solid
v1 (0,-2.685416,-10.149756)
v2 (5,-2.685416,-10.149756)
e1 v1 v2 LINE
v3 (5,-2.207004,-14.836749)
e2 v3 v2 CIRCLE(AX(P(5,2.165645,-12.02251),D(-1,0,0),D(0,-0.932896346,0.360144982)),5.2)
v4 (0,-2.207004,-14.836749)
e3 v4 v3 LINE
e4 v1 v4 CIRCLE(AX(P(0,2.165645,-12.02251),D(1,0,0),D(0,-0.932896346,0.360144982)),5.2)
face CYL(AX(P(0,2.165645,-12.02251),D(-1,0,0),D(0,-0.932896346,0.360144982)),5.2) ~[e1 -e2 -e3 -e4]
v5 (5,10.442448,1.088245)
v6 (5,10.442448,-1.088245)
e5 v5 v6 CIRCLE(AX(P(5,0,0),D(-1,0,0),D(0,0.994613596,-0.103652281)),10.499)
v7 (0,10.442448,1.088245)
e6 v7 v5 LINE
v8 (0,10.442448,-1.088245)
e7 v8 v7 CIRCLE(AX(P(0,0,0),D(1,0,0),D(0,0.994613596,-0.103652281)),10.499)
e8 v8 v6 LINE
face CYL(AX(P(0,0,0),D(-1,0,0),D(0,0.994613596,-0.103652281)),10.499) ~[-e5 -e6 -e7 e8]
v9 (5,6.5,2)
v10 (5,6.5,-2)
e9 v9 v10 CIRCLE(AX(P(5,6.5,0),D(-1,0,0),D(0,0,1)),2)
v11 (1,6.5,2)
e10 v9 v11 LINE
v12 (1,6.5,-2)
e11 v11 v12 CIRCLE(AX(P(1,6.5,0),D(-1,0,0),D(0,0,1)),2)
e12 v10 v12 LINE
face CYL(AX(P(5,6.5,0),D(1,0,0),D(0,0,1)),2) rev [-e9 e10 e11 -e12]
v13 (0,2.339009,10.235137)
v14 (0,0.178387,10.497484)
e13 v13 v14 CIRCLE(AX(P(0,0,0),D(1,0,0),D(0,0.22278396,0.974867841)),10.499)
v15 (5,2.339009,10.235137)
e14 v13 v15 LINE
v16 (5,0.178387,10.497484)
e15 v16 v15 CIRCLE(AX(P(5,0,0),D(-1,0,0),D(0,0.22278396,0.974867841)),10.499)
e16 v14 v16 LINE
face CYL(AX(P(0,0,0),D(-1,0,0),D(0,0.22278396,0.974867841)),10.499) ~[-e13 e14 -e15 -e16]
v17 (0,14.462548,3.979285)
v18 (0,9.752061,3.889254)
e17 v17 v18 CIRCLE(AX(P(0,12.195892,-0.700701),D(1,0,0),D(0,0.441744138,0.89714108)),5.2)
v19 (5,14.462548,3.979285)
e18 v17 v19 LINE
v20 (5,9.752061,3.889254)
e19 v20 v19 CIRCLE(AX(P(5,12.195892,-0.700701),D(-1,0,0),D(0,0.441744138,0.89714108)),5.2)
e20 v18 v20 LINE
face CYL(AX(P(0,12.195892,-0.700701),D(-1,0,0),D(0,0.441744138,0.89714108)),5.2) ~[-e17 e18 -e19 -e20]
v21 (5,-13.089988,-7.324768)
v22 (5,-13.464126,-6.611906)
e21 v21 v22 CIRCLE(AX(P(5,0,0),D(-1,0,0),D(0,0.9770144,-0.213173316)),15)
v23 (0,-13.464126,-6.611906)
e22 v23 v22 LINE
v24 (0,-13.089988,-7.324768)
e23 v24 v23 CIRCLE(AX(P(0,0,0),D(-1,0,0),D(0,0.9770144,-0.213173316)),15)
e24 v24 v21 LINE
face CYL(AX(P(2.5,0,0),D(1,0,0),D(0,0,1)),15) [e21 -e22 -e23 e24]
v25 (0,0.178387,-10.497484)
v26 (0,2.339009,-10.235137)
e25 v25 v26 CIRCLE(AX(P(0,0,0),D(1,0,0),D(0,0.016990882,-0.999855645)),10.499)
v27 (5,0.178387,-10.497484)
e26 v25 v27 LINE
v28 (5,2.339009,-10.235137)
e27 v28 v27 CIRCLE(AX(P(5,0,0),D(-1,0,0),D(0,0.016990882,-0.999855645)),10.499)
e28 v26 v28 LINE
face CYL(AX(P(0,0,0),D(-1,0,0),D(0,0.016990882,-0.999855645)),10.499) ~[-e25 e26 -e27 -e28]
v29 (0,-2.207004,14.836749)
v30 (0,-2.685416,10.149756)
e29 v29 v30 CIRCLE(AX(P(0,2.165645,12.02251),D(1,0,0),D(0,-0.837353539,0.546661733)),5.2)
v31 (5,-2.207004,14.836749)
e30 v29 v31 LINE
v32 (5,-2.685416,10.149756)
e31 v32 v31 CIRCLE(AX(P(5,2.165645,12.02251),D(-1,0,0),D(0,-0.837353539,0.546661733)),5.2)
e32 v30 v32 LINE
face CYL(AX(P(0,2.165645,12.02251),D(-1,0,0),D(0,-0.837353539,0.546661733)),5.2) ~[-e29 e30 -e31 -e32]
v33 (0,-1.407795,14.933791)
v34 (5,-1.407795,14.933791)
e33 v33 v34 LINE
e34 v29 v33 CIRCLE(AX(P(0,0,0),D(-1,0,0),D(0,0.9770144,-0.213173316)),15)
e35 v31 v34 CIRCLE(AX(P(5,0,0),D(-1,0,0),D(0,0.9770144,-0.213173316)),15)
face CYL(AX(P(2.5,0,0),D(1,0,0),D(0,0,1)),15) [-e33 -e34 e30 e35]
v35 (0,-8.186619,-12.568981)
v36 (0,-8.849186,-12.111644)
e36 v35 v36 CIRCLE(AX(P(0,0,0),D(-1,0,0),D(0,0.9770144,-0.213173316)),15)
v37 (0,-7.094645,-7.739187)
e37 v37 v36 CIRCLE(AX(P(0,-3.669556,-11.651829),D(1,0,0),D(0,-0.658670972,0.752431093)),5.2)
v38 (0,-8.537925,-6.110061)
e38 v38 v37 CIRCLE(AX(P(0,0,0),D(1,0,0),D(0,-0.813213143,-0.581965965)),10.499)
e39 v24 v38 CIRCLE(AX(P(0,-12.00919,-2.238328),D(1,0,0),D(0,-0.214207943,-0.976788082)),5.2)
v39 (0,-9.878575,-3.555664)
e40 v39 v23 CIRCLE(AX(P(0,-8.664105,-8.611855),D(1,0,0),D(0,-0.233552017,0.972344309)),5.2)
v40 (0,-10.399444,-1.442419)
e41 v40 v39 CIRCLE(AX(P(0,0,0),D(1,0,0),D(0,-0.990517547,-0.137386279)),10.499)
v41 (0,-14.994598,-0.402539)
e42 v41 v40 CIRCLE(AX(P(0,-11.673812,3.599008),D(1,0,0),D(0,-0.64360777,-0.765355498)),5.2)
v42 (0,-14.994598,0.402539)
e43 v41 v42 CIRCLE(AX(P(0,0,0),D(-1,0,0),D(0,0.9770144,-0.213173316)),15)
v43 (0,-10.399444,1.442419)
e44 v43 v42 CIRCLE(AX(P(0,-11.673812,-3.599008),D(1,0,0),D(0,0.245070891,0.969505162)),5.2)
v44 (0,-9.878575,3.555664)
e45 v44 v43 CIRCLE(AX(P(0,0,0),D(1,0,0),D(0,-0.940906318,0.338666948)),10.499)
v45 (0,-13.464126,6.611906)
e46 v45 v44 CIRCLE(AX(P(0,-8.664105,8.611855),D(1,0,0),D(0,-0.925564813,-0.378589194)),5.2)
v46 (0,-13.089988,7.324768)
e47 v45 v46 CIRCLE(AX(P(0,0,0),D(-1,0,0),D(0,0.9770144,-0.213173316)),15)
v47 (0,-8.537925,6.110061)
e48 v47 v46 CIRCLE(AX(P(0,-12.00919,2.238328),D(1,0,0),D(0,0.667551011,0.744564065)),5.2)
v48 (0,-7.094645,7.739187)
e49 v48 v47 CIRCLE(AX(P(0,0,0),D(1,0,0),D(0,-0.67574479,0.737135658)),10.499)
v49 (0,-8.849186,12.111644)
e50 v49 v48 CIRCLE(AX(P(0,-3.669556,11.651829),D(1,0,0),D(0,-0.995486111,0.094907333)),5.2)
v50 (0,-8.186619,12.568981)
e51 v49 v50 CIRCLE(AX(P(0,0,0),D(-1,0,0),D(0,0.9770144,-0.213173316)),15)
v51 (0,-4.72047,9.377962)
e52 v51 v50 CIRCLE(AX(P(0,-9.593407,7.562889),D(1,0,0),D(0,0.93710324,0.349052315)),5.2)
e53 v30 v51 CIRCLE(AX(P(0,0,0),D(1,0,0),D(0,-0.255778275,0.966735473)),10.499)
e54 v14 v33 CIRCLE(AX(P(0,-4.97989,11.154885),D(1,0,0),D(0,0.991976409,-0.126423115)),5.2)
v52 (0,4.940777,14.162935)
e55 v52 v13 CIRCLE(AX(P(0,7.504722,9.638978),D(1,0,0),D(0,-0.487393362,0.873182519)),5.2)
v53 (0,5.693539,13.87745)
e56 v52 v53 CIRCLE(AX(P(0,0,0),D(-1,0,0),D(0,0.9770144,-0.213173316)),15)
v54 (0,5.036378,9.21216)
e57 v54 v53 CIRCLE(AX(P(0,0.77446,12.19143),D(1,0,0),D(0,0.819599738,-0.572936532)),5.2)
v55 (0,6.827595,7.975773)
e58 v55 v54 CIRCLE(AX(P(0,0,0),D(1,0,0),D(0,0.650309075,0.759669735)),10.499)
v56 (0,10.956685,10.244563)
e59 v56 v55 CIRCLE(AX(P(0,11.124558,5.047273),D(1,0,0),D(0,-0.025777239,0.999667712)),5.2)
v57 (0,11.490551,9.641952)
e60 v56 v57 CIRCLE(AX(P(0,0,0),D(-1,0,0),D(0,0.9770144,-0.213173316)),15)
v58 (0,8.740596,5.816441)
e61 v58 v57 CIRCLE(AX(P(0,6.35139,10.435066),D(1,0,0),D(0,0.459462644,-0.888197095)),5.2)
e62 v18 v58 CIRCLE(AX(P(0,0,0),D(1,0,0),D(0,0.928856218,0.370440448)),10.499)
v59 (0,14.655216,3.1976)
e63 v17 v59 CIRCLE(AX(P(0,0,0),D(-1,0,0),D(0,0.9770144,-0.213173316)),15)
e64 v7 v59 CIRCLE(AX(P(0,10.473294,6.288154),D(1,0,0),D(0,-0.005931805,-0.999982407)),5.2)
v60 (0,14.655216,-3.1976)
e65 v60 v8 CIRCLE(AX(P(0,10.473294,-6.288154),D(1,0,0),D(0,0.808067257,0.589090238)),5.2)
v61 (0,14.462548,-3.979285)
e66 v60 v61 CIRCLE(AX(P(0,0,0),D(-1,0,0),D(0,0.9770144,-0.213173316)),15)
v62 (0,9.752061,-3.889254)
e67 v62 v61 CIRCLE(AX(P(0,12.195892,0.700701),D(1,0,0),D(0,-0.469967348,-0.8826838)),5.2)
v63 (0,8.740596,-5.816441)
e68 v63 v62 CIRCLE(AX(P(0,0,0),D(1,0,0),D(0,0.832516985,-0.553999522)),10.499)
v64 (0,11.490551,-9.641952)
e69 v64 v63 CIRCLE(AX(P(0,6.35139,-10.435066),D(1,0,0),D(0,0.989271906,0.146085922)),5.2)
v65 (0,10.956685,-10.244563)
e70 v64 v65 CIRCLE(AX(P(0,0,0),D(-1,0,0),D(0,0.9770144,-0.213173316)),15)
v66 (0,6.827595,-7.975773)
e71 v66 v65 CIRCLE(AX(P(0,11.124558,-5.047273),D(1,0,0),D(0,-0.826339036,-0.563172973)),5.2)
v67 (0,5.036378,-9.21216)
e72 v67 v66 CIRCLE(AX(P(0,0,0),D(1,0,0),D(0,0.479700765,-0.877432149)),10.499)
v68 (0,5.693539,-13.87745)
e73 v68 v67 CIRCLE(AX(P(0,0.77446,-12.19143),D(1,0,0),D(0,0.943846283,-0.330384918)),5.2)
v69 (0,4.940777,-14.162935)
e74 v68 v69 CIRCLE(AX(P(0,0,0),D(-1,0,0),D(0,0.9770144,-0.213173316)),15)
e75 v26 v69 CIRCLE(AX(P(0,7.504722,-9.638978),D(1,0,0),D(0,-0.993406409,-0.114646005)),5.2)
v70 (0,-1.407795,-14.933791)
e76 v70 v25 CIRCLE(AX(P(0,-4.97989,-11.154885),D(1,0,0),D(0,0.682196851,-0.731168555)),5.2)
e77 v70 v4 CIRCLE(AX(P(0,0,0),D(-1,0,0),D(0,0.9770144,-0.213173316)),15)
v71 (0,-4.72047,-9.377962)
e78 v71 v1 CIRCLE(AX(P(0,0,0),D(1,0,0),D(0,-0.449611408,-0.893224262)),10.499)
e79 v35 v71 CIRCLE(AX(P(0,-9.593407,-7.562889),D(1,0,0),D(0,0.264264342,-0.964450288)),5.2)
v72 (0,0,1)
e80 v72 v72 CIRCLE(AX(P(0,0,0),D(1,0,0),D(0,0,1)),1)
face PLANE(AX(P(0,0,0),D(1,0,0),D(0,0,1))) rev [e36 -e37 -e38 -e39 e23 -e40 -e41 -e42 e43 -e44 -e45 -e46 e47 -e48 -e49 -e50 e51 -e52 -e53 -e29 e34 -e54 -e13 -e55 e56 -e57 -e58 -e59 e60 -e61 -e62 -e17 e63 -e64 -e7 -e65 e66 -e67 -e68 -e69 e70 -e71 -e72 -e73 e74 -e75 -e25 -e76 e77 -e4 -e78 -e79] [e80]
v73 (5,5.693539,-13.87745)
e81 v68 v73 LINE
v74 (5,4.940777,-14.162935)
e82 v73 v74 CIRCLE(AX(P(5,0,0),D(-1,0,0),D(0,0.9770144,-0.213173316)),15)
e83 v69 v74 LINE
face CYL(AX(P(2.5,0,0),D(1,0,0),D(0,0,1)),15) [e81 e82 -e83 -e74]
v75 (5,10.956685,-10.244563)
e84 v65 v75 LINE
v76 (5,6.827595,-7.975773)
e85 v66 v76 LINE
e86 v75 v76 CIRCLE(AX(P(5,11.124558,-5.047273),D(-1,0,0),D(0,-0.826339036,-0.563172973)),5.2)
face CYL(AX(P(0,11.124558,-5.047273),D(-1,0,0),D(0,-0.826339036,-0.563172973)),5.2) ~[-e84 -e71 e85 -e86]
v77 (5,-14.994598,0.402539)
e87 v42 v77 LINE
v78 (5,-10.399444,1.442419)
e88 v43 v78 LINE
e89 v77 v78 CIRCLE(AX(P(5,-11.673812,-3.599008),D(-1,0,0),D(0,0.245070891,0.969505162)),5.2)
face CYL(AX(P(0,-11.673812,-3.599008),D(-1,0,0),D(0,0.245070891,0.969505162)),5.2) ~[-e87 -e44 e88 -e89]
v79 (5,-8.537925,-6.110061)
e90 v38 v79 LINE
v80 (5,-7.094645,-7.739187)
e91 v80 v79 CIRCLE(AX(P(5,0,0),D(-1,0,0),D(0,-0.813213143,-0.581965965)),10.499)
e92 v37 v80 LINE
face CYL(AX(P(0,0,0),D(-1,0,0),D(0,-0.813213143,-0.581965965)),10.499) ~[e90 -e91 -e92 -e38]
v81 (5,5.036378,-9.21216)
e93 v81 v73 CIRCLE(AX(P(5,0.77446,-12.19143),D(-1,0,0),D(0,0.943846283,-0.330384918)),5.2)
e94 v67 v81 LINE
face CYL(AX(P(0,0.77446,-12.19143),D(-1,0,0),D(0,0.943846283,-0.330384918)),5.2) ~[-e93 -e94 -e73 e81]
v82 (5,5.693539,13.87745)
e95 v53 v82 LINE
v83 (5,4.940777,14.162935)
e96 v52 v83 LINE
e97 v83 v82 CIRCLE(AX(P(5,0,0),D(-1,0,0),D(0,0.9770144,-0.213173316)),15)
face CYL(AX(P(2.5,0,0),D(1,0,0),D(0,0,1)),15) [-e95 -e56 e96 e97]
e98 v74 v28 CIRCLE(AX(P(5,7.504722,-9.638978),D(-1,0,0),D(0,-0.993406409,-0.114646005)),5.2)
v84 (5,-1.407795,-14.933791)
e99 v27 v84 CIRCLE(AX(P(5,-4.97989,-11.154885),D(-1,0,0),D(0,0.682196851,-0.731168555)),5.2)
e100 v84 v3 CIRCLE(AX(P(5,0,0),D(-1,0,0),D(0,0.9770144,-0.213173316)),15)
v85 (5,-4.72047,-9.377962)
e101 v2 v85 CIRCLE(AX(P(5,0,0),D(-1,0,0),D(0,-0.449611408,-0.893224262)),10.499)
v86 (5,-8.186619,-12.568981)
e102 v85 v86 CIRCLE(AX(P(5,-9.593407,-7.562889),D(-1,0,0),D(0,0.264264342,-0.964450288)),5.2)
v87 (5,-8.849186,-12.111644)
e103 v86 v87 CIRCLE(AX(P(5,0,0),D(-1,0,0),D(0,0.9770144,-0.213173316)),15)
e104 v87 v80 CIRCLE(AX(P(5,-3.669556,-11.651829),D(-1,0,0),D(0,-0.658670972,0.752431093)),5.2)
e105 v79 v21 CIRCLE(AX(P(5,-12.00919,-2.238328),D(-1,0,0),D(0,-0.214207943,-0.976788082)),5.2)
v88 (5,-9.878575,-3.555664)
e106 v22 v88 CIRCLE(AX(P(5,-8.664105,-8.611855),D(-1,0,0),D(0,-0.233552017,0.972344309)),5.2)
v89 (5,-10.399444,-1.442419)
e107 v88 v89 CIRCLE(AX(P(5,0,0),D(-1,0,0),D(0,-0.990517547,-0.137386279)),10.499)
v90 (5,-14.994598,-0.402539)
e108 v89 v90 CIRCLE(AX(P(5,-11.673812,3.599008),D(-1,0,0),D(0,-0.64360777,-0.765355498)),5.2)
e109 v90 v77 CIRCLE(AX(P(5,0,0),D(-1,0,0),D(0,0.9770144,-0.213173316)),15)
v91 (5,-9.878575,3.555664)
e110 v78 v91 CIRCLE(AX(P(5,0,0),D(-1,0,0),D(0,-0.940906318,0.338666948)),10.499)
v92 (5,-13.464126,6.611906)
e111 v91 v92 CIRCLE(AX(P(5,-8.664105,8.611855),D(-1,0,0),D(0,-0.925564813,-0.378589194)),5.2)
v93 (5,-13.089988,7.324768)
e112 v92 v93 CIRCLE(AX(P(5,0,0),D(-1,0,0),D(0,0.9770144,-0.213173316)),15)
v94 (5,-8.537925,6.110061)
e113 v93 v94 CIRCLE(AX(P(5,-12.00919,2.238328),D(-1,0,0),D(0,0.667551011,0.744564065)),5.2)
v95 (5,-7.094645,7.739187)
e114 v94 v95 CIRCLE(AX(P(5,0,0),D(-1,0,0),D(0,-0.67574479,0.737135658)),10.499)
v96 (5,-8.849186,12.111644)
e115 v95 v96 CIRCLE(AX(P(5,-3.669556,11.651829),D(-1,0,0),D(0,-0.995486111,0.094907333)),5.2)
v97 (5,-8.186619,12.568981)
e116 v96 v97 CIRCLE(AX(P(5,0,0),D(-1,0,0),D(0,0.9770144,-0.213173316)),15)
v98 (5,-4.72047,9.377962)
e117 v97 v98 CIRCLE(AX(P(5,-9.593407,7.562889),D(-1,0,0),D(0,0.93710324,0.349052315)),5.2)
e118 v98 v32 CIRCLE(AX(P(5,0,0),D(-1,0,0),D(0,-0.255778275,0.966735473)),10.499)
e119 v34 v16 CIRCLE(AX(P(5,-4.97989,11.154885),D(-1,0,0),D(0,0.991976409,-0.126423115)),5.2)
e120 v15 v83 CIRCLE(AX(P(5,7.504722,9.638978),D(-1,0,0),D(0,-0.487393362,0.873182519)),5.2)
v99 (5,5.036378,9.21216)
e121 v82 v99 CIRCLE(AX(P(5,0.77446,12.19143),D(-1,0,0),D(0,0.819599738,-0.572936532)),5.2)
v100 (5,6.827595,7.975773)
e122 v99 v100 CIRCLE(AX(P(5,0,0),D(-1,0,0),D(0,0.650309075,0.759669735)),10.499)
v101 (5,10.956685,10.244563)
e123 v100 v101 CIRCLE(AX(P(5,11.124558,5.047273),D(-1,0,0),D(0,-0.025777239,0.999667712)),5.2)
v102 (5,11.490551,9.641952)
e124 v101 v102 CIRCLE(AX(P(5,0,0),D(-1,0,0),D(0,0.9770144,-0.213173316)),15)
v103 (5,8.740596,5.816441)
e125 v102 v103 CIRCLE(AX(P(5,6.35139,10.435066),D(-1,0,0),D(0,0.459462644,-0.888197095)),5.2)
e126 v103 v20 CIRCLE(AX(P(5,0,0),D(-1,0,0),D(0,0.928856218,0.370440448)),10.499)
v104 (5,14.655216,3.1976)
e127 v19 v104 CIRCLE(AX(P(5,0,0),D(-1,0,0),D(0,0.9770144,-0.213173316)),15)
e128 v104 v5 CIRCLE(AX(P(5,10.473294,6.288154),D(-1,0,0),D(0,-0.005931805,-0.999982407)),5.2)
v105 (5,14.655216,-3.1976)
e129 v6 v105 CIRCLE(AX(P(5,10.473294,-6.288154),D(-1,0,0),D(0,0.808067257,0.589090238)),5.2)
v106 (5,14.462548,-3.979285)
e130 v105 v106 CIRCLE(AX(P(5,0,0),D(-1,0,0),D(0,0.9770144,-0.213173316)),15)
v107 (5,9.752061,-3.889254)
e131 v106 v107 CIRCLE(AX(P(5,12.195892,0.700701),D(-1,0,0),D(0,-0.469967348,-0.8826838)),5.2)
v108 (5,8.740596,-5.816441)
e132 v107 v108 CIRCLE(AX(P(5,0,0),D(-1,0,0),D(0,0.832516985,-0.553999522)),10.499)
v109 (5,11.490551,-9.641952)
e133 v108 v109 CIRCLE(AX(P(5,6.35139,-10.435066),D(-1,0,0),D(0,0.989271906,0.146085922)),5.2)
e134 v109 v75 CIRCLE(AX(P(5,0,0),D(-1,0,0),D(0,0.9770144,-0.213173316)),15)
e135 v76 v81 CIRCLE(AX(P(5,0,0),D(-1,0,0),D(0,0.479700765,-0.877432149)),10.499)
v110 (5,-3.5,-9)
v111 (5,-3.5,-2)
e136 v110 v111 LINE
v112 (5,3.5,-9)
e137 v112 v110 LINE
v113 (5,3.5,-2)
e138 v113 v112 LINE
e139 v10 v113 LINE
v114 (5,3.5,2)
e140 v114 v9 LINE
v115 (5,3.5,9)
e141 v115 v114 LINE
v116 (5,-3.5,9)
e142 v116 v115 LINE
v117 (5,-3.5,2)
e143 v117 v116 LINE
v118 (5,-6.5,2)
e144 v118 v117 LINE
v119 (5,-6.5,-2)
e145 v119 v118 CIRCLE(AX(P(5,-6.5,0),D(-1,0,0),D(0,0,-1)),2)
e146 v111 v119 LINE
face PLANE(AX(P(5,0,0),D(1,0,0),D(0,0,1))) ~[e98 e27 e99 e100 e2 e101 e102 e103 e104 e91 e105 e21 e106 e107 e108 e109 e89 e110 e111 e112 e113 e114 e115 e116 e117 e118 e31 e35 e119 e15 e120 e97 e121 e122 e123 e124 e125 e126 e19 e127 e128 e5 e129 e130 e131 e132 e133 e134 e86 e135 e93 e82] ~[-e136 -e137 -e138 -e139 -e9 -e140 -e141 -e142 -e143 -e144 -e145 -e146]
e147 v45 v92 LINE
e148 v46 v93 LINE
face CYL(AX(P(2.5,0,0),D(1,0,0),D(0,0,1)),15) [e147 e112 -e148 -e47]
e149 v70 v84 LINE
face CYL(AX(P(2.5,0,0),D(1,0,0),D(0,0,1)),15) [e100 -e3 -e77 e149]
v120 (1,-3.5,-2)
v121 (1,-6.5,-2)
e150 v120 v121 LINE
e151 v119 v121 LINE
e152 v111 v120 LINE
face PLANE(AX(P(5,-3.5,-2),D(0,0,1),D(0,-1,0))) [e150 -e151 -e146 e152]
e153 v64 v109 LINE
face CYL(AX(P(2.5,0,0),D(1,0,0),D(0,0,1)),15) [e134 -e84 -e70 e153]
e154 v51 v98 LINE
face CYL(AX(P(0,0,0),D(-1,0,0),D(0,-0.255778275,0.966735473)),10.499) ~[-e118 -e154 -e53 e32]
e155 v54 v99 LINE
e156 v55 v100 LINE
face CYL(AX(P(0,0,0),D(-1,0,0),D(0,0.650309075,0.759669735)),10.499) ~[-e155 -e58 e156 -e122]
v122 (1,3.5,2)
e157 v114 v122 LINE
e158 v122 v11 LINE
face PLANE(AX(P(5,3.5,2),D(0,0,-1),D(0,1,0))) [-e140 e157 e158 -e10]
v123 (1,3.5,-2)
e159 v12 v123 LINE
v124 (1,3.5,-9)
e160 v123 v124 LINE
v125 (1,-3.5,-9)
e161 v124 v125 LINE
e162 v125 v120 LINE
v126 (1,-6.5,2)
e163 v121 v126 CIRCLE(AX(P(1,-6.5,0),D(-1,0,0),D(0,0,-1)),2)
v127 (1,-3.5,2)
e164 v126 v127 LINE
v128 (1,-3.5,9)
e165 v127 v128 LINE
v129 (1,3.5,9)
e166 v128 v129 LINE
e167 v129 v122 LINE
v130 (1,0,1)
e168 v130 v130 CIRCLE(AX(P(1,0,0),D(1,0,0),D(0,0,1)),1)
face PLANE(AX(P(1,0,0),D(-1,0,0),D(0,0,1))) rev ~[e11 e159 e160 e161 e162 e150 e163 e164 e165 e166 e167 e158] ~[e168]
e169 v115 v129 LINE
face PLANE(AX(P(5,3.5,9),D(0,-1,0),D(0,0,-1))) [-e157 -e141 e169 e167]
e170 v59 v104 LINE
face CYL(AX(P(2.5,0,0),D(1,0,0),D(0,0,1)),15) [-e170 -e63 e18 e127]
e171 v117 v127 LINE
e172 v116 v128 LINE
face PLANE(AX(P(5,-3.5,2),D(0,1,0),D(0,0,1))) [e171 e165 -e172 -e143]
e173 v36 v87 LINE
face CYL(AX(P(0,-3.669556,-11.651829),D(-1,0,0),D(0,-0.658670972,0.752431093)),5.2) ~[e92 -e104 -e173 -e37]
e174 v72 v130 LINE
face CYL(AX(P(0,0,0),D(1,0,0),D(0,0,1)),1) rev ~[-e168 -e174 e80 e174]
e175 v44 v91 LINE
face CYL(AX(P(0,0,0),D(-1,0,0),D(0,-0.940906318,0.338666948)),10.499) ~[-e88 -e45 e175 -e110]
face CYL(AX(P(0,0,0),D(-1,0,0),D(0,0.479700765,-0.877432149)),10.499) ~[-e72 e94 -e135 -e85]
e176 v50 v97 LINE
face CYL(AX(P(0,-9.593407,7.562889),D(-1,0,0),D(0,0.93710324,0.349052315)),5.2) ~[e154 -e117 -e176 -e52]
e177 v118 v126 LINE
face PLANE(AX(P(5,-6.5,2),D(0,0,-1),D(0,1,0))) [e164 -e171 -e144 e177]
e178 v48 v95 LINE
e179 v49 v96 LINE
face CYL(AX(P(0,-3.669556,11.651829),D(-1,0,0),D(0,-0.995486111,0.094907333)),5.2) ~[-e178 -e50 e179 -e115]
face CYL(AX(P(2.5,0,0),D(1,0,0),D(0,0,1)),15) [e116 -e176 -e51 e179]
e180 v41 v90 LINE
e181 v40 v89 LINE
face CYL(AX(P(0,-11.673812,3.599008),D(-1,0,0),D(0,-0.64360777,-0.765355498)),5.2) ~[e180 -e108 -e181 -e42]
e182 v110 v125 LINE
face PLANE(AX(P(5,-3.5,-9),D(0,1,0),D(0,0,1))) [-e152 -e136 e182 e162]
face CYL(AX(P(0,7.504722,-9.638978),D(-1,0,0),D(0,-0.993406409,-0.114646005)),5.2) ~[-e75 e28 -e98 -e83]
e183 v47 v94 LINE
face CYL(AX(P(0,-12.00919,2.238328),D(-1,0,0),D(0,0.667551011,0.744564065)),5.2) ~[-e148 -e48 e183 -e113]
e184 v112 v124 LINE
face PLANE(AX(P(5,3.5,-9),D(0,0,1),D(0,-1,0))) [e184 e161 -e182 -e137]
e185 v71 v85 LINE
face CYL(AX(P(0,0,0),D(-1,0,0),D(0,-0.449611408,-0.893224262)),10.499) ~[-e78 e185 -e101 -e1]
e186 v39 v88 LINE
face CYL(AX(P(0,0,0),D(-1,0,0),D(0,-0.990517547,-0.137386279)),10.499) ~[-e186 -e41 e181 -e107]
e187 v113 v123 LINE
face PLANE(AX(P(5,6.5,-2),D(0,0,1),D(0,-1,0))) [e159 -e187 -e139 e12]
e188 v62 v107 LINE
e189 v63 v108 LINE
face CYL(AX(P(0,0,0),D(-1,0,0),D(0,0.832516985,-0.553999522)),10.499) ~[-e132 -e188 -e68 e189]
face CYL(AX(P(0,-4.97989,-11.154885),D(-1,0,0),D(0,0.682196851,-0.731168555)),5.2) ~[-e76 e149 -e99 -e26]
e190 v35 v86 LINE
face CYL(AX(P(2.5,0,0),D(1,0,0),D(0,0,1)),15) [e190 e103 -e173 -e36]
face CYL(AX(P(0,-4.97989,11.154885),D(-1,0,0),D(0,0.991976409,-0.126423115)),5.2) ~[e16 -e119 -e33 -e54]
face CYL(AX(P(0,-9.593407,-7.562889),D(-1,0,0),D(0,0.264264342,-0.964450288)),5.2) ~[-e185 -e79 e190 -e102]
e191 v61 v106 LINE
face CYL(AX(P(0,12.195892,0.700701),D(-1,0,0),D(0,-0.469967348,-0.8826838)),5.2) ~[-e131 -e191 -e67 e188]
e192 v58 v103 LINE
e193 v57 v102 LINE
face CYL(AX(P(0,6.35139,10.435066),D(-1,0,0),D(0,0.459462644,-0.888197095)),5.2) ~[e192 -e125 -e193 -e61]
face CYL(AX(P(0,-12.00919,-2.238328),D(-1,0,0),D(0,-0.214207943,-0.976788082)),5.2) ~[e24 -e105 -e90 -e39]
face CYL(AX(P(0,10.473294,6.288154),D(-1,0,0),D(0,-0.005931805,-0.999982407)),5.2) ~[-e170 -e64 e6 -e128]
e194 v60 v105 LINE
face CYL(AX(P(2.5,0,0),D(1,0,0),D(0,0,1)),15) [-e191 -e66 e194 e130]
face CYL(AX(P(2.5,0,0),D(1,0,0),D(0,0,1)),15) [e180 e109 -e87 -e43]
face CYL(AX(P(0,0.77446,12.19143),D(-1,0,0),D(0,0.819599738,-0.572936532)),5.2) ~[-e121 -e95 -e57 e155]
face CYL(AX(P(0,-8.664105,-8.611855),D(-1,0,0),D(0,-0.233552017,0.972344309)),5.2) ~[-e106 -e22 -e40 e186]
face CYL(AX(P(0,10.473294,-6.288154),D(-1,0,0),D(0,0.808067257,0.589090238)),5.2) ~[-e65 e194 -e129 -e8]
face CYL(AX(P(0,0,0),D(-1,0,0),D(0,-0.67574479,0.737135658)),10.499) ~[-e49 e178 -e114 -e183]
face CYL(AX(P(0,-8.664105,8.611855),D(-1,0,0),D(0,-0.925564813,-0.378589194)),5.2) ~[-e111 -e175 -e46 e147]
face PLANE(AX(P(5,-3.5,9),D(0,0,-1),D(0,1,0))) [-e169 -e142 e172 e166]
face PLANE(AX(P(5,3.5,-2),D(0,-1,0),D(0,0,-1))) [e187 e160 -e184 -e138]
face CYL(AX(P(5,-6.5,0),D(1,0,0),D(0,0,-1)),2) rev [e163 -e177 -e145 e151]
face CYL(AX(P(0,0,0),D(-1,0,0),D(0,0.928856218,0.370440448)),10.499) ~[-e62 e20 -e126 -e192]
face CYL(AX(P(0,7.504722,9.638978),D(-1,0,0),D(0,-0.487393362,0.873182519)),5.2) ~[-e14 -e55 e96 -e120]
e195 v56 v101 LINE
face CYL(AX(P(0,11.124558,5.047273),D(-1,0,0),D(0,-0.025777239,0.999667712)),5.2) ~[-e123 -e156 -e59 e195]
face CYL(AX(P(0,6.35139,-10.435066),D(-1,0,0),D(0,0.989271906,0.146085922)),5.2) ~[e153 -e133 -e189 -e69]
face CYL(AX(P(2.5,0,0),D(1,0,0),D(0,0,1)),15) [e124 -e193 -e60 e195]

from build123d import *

# Parameters (mm, degrees)
BASPROSKE_W        = 5
BASPROSKE_H        = 15
TOOTHCUT_DEPTH     = 22.794494718
TEETHCUTS_COUNT    = 13
TEETHCUTS_ANGLE    = 332.307692308
BORSKE_R           = 1
BORE_DEPTH         = 50.0000508
CUT_EXTRUDE1_DEPTH = 4


with BuildPart() as part:
    # BasProSke → Base-Revolve (revolve)
    with BuildSketch(Plane(origin=(0, 0, 0), x_dir=(1, 0, 0), z_dir=(0, 1, 0)), mode=Mode.PRIVATE) as base_revolve_sk:
        with Locations((2.5, 7.5)):
            Rectangle(BASPROSKE_W, BASPROSKE_H)
    revolve(base_revolve_sk.sketch.rotate(Axis((-10, 0, 0), (1, 0, 0)), 180), axis=Axis((-10, 0, 0), (1, 0, 0)))

    # TooCutSke → ToothCut (cut, through all)
    with BuildSketch(Plane(origin=(0, 0, 0), x_dir=(0, 0, -1), z_dir=(1, 0, 0))):
        with BuildLine():
            ThreePointArc((1.088245291, 10.442448141), (0, 10.499), (-1.088245291, 10.442448141))
            ThreePointArc((-1.088245291, 10.442448141), (-1.646045958, 12.816546547), (-3.224884568, 14.675243258))
            ThreePointArc((-3.224884568, 14.675243258), (0, 15.0254), (3.224884568, 14.675243258))
            ThreePointArc((3.224884568, 14.675243258), (1.646045958, 12.816546547), (1.088245291, 10.442448141))
        make_face()
    toothcut = extrude(amount=TOOTHCUT_DEPTH, mode=Mode.SUBTRACT)

    # TeethCuts: ToothCut ×13 about axis
    teethcuts_axis = Axis((-10, 0, 0), (1, 0, 0))
    for i in range(1, TEETHCUTS_COUNT):
        add(toothcut.rotate(teethcuts_axis, i * TEETHCUTS_ANGLE / (TEETHCUTS_COUNT - 1)), mode=Mode.SUBTRACT)

    # BorSke → Bore (cut, symmetric)
    with BuildSketch(Plane(origin=(0, 0, 0), x_dir=(0, 0, -1), z_dir=(1, 0, 0))):
        with Locations(Location((0, 0, 0), (0, 0, 180))):
            Circle(BORSKE_R)
    extrude(amount=BORE_DEPTH, both=True, mode=Mode.SUBTRACT)

    # Sketch1 → Cut-Extrude1 (cut)
    with BuildSketch(Plane(origin=(5, 0, 0), x_dir=(0, 0, -1), z_dir=(1, 0, 0))):
        with BuildLine():
            Line((2, 6.5), (2, 3.5))
            Line((2, 3.5), (9, 3.5))
            Line((9, 3.5), (9, -3.5))
            Line((9, -3.5), (2, -3.5))
            Line((2, -3.5), (2, -6.5))
            ThreePointArc((2, -6.5), (0, -8.5), (-2, -6.5))
            Line((-2, -6.5), (-2, -3.5))
            Line((-2, -3.5), (-9, -3.5))
            Line((-9, -3.5), (-9, 3.5))
            Line((-9, 3.5), (-2, 3.5))
            Line((-2, 3.5), (-2, 6.5))
            ThreePointArc((-2, 6.5), (0, 8.5), (2, 6.5))
        make_face()
    extrude(amount=-CUT_EXTRUDE1_DEPTH, mode=Mode.SUBTRACT)


solid = part.part
